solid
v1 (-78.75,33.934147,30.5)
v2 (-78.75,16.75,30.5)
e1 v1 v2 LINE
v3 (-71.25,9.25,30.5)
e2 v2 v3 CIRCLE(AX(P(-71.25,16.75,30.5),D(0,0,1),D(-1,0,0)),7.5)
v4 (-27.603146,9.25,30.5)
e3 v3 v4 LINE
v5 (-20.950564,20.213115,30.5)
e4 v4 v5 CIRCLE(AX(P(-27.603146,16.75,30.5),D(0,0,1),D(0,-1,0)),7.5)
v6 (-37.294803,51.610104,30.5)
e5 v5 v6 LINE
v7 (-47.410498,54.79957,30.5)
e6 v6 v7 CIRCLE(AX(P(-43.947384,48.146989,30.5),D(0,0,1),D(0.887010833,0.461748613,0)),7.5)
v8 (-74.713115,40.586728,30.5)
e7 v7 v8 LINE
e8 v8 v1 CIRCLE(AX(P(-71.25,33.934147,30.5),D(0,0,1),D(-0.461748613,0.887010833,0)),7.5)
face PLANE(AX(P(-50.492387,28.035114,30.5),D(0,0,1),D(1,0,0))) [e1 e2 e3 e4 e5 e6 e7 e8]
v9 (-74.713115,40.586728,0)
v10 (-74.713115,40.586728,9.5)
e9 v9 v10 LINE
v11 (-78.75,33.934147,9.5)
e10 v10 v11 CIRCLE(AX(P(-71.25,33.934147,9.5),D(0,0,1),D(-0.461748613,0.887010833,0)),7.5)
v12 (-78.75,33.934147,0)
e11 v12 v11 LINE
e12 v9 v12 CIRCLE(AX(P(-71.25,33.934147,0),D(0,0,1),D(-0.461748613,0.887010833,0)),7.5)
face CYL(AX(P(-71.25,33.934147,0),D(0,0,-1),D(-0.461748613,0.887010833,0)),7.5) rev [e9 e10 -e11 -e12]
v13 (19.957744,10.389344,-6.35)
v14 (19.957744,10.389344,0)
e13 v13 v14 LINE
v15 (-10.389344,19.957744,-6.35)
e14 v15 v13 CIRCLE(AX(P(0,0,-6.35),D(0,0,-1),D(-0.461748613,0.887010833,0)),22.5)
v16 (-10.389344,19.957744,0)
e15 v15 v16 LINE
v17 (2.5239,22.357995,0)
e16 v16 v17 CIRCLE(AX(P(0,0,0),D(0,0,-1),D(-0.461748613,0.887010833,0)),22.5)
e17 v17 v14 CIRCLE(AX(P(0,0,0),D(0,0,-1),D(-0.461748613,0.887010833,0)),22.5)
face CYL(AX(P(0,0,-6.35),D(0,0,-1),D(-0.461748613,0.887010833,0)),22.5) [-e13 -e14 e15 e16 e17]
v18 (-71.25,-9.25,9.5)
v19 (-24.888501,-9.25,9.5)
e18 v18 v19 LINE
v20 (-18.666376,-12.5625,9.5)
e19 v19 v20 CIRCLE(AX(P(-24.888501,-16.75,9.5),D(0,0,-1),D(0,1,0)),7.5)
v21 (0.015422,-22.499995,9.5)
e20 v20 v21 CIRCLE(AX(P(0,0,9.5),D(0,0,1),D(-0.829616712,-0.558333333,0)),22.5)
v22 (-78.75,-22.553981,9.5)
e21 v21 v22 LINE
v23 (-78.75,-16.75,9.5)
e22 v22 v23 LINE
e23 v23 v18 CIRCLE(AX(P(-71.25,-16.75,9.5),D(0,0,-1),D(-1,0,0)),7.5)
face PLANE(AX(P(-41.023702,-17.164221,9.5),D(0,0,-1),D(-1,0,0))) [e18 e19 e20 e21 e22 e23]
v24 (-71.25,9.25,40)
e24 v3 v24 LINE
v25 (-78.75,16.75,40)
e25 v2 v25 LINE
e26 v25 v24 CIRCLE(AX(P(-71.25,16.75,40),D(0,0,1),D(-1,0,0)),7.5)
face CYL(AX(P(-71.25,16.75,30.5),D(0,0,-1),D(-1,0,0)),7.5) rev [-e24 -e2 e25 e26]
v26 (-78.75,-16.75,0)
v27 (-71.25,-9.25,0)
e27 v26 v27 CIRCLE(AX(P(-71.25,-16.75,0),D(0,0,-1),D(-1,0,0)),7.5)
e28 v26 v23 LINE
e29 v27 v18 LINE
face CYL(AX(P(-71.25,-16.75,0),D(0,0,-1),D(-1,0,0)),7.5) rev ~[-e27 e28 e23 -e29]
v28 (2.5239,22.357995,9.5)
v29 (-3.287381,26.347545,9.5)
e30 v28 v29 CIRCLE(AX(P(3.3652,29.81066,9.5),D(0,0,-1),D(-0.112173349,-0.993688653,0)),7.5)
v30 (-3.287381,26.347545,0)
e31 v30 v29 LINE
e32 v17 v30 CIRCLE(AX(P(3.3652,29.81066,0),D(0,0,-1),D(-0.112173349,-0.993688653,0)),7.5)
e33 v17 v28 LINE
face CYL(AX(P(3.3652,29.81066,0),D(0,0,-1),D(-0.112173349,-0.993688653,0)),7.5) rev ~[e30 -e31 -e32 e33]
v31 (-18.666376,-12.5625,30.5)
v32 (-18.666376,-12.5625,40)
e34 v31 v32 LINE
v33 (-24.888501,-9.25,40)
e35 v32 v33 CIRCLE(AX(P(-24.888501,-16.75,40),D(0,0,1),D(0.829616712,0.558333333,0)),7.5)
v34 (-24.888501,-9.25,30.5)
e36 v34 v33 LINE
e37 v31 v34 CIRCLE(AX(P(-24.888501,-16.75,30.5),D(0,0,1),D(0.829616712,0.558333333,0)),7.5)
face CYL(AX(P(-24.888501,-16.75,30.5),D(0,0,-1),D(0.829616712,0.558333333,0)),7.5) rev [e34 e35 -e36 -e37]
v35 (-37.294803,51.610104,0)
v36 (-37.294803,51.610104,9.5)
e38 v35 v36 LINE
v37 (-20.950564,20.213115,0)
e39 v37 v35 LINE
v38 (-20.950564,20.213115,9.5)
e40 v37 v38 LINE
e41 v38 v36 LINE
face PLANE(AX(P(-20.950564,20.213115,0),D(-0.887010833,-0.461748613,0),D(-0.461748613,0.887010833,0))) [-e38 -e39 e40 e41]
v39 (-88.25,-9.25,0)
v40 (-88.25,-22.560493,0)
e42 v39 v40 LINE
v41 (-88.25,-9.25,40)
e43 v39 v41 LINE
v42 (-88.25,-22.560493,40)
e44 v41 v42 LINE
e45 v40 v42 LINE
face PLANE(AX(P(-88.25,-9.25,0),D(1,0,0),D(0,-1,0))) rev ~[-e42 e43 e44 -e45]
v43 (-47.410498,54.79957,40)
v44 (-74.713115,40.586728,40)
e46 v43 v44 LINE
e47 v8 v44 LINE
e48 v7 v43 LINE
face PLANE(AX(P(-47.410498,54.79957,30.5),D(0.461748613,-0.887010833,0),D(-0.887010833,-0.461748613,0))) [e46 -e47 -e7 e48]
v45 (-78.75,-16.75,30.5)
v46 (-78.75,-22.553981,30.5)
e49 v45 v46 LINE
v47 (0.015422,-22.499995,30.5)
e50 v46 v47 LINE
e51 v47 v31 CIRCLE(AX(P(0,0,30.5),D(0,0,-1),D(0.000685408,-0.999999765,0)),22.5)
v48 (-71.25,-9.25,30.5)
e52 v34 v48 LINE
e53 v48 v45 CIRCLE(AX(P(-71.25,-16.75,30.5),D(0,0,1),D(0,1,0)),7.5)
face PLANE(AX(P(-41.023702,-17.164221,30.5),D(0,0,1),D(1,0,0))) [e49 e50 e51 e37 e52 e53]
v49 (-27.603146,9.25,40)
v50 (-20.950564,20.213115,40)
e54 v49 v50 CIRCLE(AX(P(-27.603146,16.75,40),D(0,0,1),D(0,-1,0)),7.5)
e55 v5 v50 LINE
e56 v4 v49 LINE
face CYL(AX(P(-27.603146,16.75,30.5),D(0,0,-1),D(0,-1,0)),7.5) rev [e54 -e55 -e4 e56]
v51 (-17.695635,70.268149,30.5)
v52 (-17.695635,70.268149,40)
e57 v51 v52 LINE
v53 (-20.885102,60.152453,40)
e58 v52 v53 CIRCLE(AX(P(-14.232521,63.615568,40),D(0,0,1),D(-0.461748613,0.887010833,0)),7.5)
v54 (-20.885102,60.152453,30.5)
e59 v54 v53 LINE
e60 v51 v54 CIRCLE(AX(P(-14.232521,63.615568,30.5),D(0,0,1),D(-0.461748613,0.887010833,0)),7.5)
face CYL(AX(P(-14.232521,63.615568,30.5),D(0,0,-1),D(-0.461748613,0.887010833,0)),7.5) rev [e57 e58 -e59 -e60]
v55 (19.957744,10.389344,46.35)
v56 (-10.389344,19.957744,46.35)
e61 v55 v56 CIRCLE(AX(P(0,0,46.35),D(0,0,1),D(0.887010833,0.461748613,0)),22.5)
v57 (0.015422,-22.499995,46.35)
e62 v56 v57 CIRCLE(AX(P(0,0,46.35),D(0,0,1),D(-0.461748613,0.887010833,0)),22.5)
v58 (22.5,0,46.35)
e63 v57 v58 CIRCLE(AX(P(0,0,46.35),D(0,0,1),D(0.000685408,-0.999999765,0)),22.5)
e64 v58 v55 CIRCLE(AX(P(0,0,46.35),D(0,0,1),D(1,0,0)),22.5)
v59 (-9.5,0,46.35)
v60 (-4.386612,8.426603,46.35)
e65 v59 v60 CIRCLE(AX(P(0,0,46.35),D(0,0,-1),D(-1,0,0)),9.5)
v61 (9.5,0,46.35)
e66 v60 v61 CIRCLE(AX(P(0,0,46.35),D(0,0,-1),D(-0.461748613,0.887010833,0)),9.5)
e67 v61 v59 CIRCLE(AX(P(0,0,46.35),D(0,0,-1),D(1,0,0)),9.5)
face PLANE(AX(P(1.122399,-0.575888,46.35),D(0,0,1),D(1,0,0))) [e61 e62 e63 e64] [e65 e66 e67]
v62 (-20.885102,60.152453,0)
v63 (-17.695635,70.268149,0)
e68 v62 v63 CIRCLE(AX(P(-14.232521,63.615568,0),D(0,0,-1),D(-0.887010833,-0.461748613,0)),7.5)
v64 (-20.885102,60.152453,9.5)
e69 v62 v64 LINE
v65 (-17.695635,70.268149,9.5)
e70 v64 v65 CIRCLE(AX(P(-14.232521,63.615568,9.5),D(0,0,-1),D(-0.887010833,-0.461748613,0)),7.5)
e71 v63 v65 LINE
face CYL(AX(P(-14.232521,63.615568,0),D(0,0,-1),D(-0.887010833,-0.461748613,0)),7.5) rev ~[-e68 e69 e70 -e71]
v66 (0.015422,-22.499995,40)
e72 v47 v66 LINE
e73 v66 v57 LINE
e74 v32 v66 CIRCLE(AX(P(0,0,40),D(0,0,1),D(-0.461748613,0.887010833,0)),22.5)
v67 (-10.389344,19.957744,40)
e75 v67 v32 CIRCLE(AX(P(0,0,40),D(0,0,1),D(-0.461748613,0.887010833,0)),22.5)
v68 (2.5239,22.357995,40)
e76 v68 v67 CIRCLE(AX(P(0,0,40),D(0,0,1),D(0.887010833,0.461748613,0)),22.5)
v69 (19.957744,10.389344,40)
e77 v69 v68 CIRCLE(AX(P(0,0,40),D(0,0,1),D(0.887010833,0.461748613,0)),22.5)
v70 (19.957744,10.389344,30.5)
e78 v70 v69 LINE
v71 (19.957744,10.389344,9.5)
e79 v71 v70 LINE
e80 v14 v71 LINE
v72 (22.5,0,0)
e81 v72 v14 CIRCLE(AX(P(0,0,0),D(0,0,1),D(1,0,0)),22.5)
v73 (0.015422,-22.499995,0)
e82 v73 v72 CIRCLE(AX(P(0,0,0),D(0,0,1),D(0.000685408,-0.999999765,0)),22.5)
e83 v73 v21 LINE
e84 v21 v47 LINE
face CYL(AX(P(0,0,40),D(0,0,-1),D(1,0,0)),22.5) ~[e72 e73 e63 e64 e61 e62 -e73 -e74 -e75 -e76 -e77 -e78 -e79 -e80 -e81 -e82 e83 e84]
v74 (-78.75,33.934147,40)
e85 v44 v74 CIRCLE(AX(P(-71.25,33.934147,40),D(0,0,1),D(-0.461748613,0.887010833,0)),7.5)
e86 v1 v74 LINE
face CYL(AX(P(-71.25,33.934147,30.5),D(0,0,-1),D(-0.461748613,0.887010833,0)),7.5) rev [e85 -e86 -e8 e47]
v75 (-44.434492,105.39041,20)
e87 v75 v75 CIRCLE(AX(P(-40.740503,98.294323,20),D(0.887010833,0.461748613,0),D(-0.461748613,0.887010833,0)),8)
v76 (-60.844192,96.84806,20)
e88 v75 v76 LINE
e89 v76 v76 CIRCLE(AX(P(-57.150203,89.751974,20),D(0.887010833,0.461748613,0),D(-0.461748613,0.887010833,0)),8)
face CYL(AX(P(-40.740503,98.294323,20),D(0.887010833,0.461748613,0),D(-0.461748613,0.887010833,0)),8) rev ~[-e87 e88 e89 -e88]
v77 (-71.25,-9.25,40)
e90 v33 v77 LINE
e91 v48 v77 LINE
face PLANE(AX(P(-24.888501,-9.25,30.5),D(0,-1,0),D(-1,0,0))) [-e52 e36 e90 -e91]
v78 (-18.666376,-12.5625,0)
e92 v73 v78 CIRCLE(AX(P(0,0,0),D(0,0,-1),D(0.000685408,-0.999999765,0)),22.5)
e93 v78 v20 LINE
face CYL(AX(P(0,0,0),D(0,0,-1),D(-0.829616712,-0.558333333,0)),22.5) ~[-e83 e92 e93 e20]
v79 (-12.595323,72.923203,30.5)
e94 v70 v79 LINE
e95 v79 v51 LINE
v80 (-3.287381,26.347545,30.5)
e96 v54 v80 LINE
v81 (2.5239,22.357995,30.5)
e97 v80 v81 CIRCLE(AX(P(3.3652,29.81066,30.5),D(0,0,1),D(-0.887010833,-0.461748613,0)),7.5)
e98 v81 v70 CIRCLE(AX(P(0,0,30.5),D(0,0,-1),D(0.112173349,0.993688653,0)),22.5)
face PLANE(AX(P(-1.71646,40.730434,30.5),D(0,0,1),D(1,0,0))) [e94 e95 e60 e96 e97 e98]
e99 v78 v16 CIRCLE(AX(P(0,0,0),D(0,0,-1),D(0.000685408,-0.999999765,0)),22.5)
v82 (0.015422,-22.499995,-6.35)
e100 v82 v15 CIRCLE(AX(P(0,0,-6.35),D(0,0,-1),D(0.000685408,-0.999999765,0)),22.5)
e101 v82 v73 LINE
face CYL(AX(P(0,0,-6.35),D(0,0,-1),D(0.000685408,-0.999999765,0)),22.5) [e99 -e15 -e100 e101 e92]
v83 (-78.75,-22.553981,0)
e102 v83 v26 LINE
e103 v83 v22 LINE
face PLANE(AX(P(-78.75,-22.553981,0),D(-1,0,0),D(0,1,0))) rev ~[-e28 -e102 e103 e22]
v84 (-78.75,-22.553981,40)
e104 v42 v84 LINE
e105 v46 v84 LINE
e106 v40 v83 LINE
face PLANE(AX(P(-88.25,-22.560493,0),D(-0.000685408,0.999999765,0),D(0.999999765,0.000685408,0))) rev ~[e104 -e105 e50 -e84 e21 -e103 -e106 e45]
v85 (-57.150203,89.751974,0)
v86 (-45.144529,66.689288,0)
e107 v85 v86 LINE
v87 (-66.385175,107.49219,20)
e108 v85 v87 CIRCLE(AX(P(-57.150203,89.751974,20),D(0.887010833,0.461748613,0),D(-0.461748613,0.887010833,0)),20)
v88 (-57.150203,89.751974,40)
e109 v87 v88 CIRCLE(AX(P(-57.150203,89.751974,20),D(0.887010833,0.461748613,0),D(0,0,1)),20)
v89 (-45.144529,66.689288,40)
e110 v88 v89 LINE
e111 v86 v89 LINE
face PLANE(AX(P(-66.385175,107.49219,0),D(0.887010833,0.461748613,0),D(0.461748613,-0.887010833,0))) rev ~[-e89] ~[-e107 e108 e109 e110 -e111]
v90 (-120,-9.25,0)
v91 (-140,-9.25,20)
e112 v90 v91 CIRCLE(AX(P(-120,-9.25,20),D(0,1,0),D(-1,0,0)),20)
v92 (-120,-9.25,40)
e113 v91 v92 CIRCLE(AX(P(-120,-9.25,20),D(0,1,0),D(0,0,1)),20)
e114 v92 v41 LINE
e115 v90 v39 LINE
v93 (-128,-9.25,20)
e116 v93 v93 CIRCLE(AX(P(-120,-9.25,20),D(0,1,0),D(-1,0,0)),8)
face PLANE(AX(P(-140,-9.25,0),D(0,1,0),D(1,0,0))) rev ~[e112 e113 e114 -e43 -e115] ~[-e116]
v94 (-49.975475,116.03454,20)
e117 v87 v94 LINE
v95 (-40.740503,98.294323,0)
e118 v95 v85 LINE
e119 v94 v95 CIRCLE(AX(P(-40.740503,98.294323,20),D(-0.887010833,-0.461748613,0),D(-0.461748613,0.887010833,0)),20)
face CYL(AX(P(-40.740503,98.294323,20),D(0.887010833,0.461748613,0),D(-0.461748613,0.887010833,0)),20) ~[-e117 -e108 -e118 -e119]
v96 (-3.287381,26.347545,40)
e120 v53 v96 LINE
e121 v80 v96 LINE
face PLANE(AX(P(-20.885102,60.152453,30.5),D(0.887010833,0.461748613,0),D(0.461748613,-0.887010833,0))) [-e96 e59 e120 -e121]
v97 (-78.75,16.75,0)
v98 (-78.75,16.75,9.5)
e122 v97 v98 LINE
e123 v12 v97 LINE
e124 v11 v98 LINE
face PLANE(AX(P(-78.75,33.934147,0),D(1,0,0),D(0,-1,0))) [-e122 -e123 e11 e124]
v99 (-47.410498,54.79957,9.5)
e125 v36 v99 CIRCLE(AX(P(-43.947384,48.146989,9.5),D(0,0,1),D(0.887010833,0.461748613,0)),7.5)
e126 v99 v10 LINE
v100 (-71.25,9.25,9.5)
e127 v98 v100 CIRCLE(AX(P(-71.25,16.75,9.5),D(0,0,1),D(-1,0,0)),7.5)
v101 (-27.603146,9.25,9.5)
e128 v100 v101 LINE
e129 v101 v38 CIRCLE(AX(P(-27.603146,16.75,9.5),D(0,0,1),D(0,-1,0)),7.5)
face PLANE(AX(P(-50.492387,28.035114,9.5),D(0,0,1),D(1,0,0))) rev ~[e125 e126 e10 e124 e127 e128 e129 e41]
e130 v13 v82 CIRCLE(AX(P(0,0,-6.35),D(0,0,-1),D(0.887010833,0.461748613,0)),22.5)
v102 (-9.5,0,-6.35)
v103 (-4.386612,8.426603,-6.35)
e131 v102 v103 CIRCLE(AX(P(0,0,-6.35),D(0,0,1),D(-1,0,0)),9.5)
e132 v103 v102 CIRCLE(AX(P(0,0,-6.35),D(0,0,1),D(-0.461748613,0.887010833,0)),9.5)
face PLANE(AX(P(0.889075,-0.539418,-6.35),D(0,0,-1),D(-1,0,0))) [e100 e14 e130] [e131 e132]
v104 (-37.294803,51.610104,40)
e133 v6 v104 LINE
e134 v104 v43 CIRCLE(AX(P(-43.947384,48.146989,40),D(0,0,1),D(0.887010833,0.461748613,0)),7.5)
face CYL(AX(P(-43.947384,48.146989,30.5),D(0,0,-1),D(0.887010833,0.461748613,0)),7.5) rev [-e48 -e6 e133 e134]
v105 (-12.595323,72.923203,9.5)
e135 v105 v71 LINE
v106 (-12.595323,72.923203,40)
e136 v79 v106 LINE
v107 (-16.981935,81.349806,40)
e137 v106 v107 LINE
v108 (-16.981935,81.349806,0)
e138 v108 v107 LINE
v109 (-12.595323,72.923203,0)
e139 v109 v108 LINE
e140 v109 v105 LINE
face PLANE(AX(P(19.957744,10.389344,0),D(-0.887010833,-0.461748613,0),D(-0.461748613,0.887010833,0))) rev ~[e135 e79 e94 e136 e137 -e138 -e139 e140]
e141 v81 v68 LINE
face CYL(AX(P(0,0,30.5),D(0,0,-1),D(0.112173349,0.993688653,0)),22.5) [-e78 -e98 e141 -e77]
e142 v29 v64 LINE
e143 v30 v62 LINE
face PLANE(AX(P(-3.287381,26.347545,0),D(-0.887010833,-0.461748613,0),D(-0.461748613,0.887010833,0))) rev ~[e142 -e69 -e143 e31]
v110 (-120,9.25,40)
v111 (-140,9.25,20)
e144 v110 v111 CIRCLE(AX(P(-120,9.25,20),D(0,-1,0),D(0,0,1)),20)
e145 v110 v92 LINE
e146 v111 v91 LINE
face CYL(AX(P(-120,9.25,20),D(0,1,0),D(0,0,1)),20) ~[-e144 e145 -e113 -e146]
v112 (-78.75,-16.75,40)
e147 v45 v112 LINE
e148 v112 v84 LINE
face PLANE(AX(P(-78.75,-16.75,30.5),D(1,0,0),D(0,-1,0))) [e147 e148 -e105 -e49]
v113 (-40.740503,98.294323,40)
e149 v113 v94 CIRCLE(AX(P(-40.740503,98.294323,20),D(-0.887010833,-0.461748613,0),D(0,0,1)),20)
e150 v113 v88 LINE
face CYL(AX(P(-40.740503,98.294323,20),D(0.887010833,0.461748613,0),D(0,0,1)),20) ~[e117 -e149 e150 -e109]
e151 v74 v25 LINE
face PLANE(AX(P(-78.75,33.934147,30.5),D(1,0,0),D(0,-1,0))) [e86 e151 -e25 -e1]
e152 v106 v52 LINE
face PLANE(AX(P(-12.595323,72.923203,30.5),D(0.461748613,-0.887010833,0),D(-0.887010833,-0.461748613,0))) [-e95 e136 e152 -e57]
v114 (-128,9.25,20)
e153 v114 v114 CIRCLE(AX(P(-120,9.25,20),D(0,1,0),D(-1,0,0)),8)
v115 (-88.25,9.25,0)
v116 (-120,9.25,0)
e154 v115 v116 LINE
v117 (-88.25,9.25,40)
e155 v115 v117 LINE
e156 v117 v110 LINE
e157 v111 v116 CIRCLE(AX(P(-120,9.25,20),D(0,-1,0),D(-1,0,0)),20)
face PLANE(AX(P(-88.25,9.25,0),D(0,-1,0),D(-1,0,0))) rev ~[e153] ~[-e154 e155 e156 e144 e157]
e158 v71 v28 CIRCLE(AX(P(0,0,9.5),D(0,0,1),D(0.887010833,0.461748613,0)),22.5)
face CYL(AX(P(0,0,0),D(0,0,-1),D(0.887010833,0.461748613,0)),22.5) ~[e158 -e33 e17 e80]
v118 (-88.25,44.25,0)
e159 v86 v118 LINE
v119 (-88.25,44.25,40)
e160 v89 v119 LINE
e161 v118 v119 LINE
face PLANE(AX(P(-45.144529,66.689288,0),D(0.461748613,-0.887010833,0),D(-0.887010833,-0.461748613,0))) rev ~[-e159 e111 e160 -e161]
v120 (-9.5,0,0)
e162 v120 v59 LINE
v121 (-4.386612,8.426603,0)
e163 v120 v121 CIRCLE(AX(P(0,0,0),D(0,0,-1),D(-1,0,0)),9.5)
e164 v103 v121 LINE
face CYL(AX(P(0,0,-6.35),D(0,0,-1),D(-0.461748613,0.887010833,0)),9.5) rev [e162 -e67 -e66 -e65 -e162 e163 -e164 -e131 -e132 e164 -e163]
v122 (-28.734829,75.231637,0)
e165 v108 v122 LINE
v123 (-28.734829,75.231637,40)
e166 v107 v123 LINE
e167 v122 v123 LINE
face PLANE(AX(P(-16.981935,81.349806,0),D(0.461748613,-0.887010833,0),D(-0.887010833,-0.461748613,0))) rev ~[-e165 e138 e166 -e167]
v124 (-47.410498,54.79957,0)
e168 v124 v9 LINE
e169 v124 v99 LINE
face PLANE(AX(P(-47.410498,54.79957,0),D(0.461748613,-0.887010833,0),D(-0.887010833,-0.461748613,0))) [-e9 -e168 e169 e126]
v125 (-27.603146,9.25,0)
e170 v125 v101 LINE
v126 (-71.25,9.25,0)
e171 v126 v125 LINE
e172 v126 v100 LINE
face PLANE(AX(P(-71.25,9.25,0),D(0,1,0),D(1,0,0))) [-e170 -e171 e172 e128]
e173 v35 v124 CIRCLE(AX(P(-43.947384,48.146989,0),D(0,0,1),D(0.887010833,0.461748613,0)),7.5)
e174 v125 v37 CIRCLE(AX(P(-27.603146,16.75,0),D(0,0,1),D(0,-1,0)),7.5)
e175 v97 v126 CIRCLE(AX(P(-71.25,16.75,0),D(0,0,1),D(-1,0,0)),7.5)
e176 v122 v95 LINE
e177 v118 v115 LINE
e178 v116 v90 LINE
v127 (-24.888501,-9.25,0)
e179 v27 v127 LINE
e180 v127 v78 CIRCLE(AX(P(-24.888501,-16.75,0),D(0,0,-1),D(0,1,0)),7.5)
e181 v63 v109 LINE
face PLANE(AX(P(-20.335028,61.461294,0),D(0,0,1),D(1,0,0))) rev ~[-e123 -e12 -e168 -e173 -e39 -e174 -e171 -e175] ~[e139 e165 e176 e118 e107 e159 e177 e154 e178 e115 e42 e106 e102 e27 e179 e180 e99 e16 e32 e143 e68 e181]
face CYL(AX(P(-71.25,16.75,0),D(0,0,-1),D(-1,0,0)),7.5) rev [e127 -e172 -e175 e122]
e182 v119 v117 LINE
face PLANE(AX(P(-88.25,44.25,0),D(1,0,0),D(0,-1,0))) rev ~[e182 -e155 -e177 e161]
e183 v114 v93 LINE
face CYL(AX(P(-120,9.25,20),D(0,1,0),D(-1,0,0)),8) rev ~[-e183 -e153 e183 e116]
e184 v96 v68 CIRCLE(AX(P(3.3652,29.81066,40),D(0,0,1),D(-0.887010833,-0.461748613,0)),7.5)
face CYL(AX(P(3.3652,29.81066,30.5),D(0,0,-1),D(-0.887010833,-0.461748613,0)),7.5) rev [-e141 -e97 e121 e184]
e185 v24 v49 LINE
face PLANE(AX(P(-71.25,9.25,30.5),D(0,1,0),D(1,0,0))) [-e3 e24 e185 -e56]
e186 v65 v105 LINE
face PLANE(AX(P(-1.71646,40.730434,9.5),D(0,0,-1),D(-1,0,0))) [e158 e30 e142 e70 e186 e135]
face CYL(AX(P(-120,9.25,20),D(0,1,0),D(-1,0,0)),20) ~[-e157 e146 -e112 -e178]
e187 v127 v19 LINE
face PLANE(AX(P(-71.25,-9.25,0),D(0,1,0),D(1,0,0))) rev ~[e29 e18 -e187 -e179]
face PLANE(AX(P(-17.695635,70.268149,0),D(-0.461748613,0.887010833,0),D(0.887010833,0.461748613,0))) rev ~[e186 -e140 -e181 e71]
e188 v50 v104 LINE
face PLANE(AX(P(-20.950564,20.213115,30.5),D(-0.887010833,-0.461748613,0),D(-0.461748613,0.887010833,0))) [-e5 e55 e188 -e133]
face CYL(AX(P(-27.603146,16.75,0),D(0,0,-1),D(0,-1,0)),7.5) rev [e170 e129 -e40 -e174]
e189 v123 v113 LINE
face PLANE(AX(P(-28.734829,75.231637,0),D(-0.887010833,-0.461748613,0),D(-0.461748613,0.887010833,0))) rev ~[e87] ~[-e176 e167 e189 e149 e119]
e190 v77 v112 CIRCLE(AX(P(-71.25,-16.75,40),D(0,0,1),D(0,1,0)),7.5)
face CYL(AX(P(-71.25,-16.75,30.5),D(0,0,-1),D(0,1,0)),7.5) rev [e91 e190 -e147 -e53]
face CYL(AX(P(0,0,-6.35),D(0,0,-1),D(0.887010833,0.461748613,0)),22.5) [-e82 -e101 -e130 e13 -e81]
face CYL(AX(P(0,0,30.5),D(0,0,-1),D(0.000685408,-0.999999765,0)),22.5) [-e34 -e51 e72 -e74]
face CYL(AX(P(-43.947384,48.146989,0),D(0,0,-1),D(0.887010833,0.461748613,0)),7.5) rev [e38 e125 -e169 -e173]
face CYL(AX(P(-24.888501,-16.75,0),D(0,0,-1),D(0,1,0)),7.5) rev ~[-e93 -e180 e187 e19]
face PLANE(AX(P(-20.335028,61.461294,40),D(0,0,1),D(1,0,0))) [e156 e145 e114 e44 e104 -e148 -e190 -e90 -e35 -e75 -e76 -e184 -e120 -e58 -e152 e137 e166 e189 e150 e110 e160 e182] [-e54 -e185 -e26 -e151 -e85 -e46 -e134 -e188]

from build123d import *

# Parameters (mm, degrees)
BOSS_EXTRU_1_DEPTH      = 40
ESQUISSE2_R             = 8
ENL_V_MAT_EXTRU_1_DEPTH = 190.883457354
ESQUISSE3_R             = 8
ENL_V_MAT_EXTRU_2_DEPTH = 181.562836456
BOSS_EXTRU_2_DEPTH      = 6.35
BOSS_EXTRU_3_START      = 6.35
BOSS_EXTRU_3_DEPTH      = 6.35
ENL_V_START             = -9.5
ENL_V_MAT_EXTRU_3_DEPTH = 9.5
ENL_V_MAT_EXTRU_6_DEPTH = 9.5


with BuildPart() as part:
    # Esquisse1 → Boss.-Extru.1 (new body)
    with BuildSketch(Plane.XY):
        with BuildLine():
            ThreePointArc((-10.389343798, 19.957743747), (6.765880489, 21.458631392), (19.957743747, 10.389343798))
            Line((19.957743747, 10.389343798), (-16.981934979, 81.349806406))
            Line((-16.981934979, 81.349806406), (-28.734828519, 75.231637281))
            Line((-28.734828519, 75.231637281), (-49.975475061, 116.034539653))
            Line((-49.975475061, 116.034539653), (-58.180325268, 111.76336498))
            Line((-58.180325268, 111.76336498), (-10.389343798, 19.957743747))
        make_face()
        with BuildLine():
            ThreePointArc((-22.5, 0), (-19.23551709, 11.672398309), (-10.389343798, 19.957743747))
            Line((-10.389343798, 19.957743747), (-58.180325268, 111.76336498))
            Line((-58.180325268, 111.76336498), (-66.385175475, 107.492190308))
            Line((-66.385175475, 107.492190308), (-45.144528933, 66.689287936))
            Line((-45.144528933, 66.689287936), (-88.25, 44.25))
            Line((-88.25, 44.25), (-88.25, 9.25))
            Line((-88.25, 9.25), (-140, 9.25))
            Line((-140, 9.25), (-140, 0))
            Line((-140, 0), (-22.5, 0))
        make_face()
        with BuildLine():
            Line((-88.25, -22.560492565), (0.015421683, -22.499994715))
            ThreePointArc((0.015421683, -22.499994715), (-15.904449254, -15.915354031), (-22.5, 0))
            Line((-22.5, 0), (-140, 0))
            Line((-140, 0), (-140, -9.25))
            Line((-140, -9.25), (-88.25, -9.25))
            Line((-88.25, -9.25), (-88.25, -22.560492565))
        make_face()
        with BuildLine():
            ThreePointArc((22.5, 0), (21.855196571, 5.347932577), (19.957743747, 10.389343798))
            ThreePointArc((19.957743747, 10.389343798), (6.765880489, 21.458631392), (-10.389343798, 19.957743747))
            Line((-10.389343798, 19.957743747), (-4.386611826, 8.426602915))
            ThreePointArc((-4.386611826, 8.426602915), (4.928345953, 8.121662771), (9.5, 0))
            ThreePointArc((9.5, 0), (0, -9.5), (-9.5, 0))
            Line((-9.5, 0), (-22.5, 0))
            ThreePointArc((-22.5, 0), (-15.904449254, -15.915354031), (0.015421683, -22.499994715))
            ThreePointArc((0.015421683, -22.499994715), (15.915354031, -15.904449254), (22.5, 0))
        make_face()
        with BuildLine():
            Line((-4.386611826, 8.426602915), (-10.389343798, 19.957743747))
            ThreePointArc((-10.389343798, 19.957743747), (-19.23551709, 11.672398309), (-22.5, 0))
            Line((-22.5, 0), (-9.5, 0))
            ThreePointArc((-9.5, 0), (-8.121662771, 4.928345953), (-4.386611826, 8.426602915))
        make_face()
        with BuildLine():
            ThreePointArc((22.5, 0), (21.855196571, 5.347932577), (19.957743747, 10.389343798))
            ThreePointArc((19.957743747, 10.389343798), (6.765880489, 21.458631392), (-10.389343798, 19.957743747))
            Line((-10.389343798, 19.957743747), (-4.386611826, 8.426602915))
            ThreePointArc((-4.386611826, 8.426602915), (4.928345953, 8.121662771), (9.5, 0))
            ThreePointArc((9.5, 0), (0, -9.5), (-9.5, 0))
            Line((-9.5, 0), (-22.5, 0))
            ThreePointArc((-22.5, 0), (-15.904449254, -15.915354031), (0.015421683, -22.499994715))
            ThreePointArc((0.015421683, -22.499994715), (15.915354031, -15.904449254), (22.5, 0))
        make_face()
        with BuildLine():
            Line((-4.386611826, 8.426602915), (-10.389343798, 19.957743747))
            ThreePointArc((-10.389343798, 19.957743747), (-19.23551709, 11.672398309), (-22.5, 0))
            Line((-22.5, 0), (-9.5, 0))
            ThreePointArc((-9.5, 0), (-8.121662771, 4.928345953), (-4.386611826, 8.426602915))
        make_face()
    extrude(amount=BOSS_EXTRU_1_DEPTH)

    # Esquisse2 → Enlèv. mat.-Extru.1 (cut, through all)
    with BuildSketch(Plane(origin=(8.204850207, 4.271174672, 0), x_dir=(0, 0, -1), z_dir=(0.8870108331782228, 0.4617486132350319, 0))):
        with Locations(Location((-20, 106, 0), (0, 0, 90))):
            Circle(ESQUISSE2_R)
        with BuildLine():
            ThreePointArc((-40, 106), (-34.142135624, 120.142135624), (-20, 126))
            Line((-20, 126), (-40, 126))
            Line((-40, 126), (-40, 106))
        make_face()
        with BuildLine():
            ThreePointArc((-20, 126), (-5.857864376, 120.142135624), (0, 106))
            Line((0, 106), (0, 126))
            Line((0, 126), (-20, 126))
        make_face()
    extrude(amount=-ENL_V_MAT_EXTRU_1_DEPTH, mode=Mode.SUBTRACT)

    # Esquisse3 → Enlèv. mat.-Extru.2 (cut, through all)
    with BuildSketch(Plane(origin=(0, 9.25, 0), x_dir=(1, 0, 0), z_dir=(0, 1, 0))):
        with BuildLine():
            ThreePointArc((-140, -20), (-134.142135624, -5.857864376), (-120, 0))
            Line((-120, 0), (-140, 0))
            Line((-140, 0), (-140, -20))
        make_face()
        with BuildLine():
            ThreePointArc((-120, -40), (-134.142135624, -34.142135624), (-140, -20))
            Line((-140, -20), (-140, -40))
            Line((-140, -40), (-120, -40))
        make_face()
        with Locations(Location((-120, -20, 0), (0, 0, 180))):
            Circle(ESQUISSE3_R)
    extrude(amount=-ENL_V_MAT_EXTRU_2_DEPTH, mode=Mode.SUBTRACT)

    # Esquisse4 → Boss.-Extru.2 (add)
    with BuildSketch(Plane.XY.offset(40)):
        with BuildLine():
            ThreePointArc((22.5, 0), (21.855196571, 5.347932577), (19.957743747, 10.389343798))
            ThreePointArc((19.957743747, 10.389343798), (6.765880489, 21.458631392), (-10.389343798, 19.957743747))
            Line((-10.389343798, 19.957743747), (-4.386611826, 8.426602915))
            ThreePointArc((-4.386611826, 8.426602915), (4.928345953, 8.121662771), (9.5, 0))
            ThreePointArc((9.5, 0), (0, -9.5), (-9.5, 0))
            Line((-9.5, 0), (-22.5, 0))
            ThreePointArc((-22.5, 0), (-15.904449254, -15.915354031), (0.015421683, -22.499994715))
            ThreePointArc((0.015421683, -22.499994715), (15.915354031, -15.904449254), (22.5, 0))
        make_face()
        with BuildLine():
            ThreePointArc((22.5, 0), (21.855196571, 5.347932577), (19.957743747, 10.389343798))
            ThreePointArc((19.957743747, 10.389343798), (6.765880489, 21.458631392), (-10.389343798, 19.957743747))
            Line((-10.389343798, 19.957743747), (-4.386611826, 8.426602915))
            ThreePointArc((-4.386611826, 8.426602915), (4.928345953, 8.121662771), (9.5, 0))
            ThreePointArc((9.5, 0), (0, -9.5), (-9.5, 0))
            Line((-9.5, 0), (-22.5, 0))
            ThreePointArc((-22.5, 0), (-15.904449254, -15.915354031), (0.015421683, -22.499994715))
            ThreePointArc((0.015421683, -22.499994715), (15.915354031, -15.904449254), (22.5, 0))
        make_face()
        with BuildLine():
            Line((-4.386611826, 8.426602915), (-10.389343798, 19.957743747))
            ThreePointArc((-10.389343798, 19.957743747), (-19.23551709, 11.672398309), (-22.5, 0))
            Line((-22.5, 0), (-9.5, 0))
            ThreePointArc((-9.5, 0), (-8.121662771, 4.928345953), (-4.386611826, 8.426602915))
        make_face()
    extrude(amount=BOSS_EXTRU_2_DEPTH)

    # Esquisse5 → Boss.-Extru.3 (add)
    with BuildSketch(Plane(origin=(0, 0, 0), x_dir=(-1, 0, 0), z_dir=(0, 0, -1)).offset(BOSS_EXTRU_3_START)):
        with BuildLine():
            ThreePointArc((10.389343798, 19.957743747), (-6.765880489, 21.458631392), (-19.957743747, 10.389343798))
            ThreePointArc((-19.957743747, 10.389343798), (-19.239516139, -11.665805533), (-0.015421683, -22.499994715))
            ThreePointArc((-0.015421683, -22.499994715), (15.904449254, -15.915354031), (22.5, 0))
            Line((22.5, 0), (9.5, 0))
            ThreePointArc((9.5, 0), (-8.121662771, -4.928345953), (4.386611826, 8.426602915))
            Line((4.386611826, 8.426602915), (10.389343798, 19.957743747))
        make_face()
        with BuildLine():
            ThreePointArc((22.5, 0), (19.23551709, 11.672398309), (10.389343798, 19.957743747))
            Line((10.389343798, 19.957743747), (4.386611826, 8.426602915))
            ThreePointArc((4.386611826, 8.426602915), (8.121662771, 4.928345953), (9.5, 0))
            Line((9.5, 0), (22.5, 0))
        make_face()
        with BuildLine():
            ThreePointArc((10.389343798, 19.957743747), (-6.765880489, 21.458631392), (-19.957743747, 10.389343798))
            ThreePointArc((-19.957743747, 10.389343798), (-19.239516139, -11.665805533), (-0.015421683, -22.499994715))
            ThreePointArc((-0.015421683, -22.499994715), (15.904449254, -15.915354031), (22.5, 0))
            Line((22.5, 0), (9.5, 0))
            ThreePointArc((9.5, 0), (-8.121662771, -4.928345953), (4.386611826, 8.426602915))
            Line((4.386611826, 8.426602915), (10.389343798, 19.957743747))
        make_face()
    extrude(amount=-BOSS_EXTRU_3_DEPTH)

    # Esquisse6 → Enlèv. mat.-Extru.3 (cut)
    with BuildSketch(Plane.XY.offset(40).offset(ENL_V_START)):
        with BuildLine():
            Line((19.957743747, 10.389343798), (-12.595323154, 72.923203491))
            Line((-12.595323154, 72.923203491), (-17.695635444, 70.268148965))
            ThreePointArc((-17.695635444, 70.268148965), (-21.385397976, 65.870861212), (-20.885102094, 60.152453117))
            Line((-20.885102094, 60.152453117), (-3.287380782, 26.347545001))
            ThreePointArc((-3.287380782, 26.347545001), (-0.879642567, 23.627512536), (2.52390035, 22.3579947))
            ThreePointArc((2.52390035, 22.3579947), (12.734529101, 18.549441193), (19.957743747, 10.389343798))
        make_face()
        with BuildLine():
            Line((-78.75, -22.553981187), (0.015421683, -22.499994715))
            ThreePointArc((0.015421683, -22.499994715), (-10.566597122, -19.864466398), (-18.666376021, -12.5625))
            ThreePointArc((-18.666376021, -12.5625), (-21.364033316, -10.129718662), (-24.888501361, -9.25))
            Line((-24.888501361, -9.25), (-71.25, -9.25))
            ThreePointArc((-71.25, -9.25), (-76.553300859, -11.446699141), (-78.75, -16.75))
            Line((-78.75, -16.75), (-78.75, -22.553981187))
        make_face()
        with BuildLine():
            Line((-20.950564458, 20.213114599), (-37.294802508, 51.610103772))
            ThreePointArc((-37.294802508, 51.610103772), (-41.69209026, 55.299866303), (-47.410498356, 54.799570422))
            Line((-47.410498356, 54.799570422), (-74.713114599, 40.586728011))
            ThreePointArc((-74.713114599, 40.586728011), (-77.66183903, 37.824946199), (-78.75, 33.934146763))
            Line((-78.75, 33.934146763), (-78.75, 16.75))
            ThreePointArc((-78.75, 16.75), (-76.553300859, 11.446699141), (-71.25, 9.25))
            Line((-71.25, 9.25), (-27.603145707, 9.25))
            ThreePointArc((-27.603145707, 9.25), (-21.191306677, 12.859200564), (-20.950564458, 20.213114599))
        make_face()
    extrude(amount=ENL_V_MAT_EXTRU_3_DEPTH, mode=Mode.SUBTRACT)

    # Esquisse9 → Enlèv. mat.-Extru.6 (cut)
    with BuildSketch(Plane(origin=(0, 0, 0), x_dir=(-1, 0, 0), z_dir=(0, 0, -1))):
        with BuildLine():
            ThreePointArc((-19.957743747, 10.389343798), (-12.734529101, 18.549441193), (-2.52390035, 22.3579947))
            ThreePointArc((-2.52390035, 22.3579947), (0.879642567, 23.627512536), (3.287380782, 26.347545001))
            Line((3.287380782, 26.347545001), (20.885102094, 60.152453117))
            ThreePointArc((20.885102094, 60.152453117), (21.385397976, 65.870861212), (17.695635444, 70.268148965))
            Line((17.695635444, 70.268148965), (12.595323154, 72.923203491))
            Line((12.595323154, 72.923203491), (-19.957743747, 10.389343798))
        make_face()
        with BuildLine():
            Line((47.410498356, 54.799570422), (74.713114599, 40.586728011))
            ThreePointArc((74.713114599, 40.586728011), (77.66183903, 37.824946199), (78.75, 33.934146763))
            Line((78.75, 33.934146763), (78.75, 16.75))
            ThreePointArc((78.75, 16.75), (76.553300859, 11.446699141), (71.25, 9.25))
            Line((71.25, 9.25), (27.603145707, 9.25))
            ThreePointArc((27.603145707, 9.25), (21.191306677, 12.859200564), (20.950564458, 20.213114599))
            Line((20.950564458, 20.213114599), (37.294802508, 51.610103772))
            ThreePointArc((37.294802508, 51.610103772), (41.69209026, 55.299866303), (47.410498356, 54.799570422))
        make_face()
        with BuildLine():
            Line((71.25, -9.25), (24.888501361, -9.25))
            ThreePointArc((24.888501361, -9.25), (21.364033316, -10.129718662), (18.666376021, -12.5625))
            ThreePointArc((18.666376021, -12.5625), (10.566597122, -19.864466398), (-0.015421683, -22.499994715))
            Line((-0.015421683, -22.499994715), (78.75, -22.553981187))
            Line((78.75, -22.553981187), (78.75, -16.75))
            ThreePointArc((78.75, -16.75), (76.553300859, -11.446699141), (71.25, -9.25))
        make_face()
    extrude(amount=-ENL_V_MAT_EXTRU_6_DEPTH, mode=Mode.SUBTRACT)


solid = part.part
